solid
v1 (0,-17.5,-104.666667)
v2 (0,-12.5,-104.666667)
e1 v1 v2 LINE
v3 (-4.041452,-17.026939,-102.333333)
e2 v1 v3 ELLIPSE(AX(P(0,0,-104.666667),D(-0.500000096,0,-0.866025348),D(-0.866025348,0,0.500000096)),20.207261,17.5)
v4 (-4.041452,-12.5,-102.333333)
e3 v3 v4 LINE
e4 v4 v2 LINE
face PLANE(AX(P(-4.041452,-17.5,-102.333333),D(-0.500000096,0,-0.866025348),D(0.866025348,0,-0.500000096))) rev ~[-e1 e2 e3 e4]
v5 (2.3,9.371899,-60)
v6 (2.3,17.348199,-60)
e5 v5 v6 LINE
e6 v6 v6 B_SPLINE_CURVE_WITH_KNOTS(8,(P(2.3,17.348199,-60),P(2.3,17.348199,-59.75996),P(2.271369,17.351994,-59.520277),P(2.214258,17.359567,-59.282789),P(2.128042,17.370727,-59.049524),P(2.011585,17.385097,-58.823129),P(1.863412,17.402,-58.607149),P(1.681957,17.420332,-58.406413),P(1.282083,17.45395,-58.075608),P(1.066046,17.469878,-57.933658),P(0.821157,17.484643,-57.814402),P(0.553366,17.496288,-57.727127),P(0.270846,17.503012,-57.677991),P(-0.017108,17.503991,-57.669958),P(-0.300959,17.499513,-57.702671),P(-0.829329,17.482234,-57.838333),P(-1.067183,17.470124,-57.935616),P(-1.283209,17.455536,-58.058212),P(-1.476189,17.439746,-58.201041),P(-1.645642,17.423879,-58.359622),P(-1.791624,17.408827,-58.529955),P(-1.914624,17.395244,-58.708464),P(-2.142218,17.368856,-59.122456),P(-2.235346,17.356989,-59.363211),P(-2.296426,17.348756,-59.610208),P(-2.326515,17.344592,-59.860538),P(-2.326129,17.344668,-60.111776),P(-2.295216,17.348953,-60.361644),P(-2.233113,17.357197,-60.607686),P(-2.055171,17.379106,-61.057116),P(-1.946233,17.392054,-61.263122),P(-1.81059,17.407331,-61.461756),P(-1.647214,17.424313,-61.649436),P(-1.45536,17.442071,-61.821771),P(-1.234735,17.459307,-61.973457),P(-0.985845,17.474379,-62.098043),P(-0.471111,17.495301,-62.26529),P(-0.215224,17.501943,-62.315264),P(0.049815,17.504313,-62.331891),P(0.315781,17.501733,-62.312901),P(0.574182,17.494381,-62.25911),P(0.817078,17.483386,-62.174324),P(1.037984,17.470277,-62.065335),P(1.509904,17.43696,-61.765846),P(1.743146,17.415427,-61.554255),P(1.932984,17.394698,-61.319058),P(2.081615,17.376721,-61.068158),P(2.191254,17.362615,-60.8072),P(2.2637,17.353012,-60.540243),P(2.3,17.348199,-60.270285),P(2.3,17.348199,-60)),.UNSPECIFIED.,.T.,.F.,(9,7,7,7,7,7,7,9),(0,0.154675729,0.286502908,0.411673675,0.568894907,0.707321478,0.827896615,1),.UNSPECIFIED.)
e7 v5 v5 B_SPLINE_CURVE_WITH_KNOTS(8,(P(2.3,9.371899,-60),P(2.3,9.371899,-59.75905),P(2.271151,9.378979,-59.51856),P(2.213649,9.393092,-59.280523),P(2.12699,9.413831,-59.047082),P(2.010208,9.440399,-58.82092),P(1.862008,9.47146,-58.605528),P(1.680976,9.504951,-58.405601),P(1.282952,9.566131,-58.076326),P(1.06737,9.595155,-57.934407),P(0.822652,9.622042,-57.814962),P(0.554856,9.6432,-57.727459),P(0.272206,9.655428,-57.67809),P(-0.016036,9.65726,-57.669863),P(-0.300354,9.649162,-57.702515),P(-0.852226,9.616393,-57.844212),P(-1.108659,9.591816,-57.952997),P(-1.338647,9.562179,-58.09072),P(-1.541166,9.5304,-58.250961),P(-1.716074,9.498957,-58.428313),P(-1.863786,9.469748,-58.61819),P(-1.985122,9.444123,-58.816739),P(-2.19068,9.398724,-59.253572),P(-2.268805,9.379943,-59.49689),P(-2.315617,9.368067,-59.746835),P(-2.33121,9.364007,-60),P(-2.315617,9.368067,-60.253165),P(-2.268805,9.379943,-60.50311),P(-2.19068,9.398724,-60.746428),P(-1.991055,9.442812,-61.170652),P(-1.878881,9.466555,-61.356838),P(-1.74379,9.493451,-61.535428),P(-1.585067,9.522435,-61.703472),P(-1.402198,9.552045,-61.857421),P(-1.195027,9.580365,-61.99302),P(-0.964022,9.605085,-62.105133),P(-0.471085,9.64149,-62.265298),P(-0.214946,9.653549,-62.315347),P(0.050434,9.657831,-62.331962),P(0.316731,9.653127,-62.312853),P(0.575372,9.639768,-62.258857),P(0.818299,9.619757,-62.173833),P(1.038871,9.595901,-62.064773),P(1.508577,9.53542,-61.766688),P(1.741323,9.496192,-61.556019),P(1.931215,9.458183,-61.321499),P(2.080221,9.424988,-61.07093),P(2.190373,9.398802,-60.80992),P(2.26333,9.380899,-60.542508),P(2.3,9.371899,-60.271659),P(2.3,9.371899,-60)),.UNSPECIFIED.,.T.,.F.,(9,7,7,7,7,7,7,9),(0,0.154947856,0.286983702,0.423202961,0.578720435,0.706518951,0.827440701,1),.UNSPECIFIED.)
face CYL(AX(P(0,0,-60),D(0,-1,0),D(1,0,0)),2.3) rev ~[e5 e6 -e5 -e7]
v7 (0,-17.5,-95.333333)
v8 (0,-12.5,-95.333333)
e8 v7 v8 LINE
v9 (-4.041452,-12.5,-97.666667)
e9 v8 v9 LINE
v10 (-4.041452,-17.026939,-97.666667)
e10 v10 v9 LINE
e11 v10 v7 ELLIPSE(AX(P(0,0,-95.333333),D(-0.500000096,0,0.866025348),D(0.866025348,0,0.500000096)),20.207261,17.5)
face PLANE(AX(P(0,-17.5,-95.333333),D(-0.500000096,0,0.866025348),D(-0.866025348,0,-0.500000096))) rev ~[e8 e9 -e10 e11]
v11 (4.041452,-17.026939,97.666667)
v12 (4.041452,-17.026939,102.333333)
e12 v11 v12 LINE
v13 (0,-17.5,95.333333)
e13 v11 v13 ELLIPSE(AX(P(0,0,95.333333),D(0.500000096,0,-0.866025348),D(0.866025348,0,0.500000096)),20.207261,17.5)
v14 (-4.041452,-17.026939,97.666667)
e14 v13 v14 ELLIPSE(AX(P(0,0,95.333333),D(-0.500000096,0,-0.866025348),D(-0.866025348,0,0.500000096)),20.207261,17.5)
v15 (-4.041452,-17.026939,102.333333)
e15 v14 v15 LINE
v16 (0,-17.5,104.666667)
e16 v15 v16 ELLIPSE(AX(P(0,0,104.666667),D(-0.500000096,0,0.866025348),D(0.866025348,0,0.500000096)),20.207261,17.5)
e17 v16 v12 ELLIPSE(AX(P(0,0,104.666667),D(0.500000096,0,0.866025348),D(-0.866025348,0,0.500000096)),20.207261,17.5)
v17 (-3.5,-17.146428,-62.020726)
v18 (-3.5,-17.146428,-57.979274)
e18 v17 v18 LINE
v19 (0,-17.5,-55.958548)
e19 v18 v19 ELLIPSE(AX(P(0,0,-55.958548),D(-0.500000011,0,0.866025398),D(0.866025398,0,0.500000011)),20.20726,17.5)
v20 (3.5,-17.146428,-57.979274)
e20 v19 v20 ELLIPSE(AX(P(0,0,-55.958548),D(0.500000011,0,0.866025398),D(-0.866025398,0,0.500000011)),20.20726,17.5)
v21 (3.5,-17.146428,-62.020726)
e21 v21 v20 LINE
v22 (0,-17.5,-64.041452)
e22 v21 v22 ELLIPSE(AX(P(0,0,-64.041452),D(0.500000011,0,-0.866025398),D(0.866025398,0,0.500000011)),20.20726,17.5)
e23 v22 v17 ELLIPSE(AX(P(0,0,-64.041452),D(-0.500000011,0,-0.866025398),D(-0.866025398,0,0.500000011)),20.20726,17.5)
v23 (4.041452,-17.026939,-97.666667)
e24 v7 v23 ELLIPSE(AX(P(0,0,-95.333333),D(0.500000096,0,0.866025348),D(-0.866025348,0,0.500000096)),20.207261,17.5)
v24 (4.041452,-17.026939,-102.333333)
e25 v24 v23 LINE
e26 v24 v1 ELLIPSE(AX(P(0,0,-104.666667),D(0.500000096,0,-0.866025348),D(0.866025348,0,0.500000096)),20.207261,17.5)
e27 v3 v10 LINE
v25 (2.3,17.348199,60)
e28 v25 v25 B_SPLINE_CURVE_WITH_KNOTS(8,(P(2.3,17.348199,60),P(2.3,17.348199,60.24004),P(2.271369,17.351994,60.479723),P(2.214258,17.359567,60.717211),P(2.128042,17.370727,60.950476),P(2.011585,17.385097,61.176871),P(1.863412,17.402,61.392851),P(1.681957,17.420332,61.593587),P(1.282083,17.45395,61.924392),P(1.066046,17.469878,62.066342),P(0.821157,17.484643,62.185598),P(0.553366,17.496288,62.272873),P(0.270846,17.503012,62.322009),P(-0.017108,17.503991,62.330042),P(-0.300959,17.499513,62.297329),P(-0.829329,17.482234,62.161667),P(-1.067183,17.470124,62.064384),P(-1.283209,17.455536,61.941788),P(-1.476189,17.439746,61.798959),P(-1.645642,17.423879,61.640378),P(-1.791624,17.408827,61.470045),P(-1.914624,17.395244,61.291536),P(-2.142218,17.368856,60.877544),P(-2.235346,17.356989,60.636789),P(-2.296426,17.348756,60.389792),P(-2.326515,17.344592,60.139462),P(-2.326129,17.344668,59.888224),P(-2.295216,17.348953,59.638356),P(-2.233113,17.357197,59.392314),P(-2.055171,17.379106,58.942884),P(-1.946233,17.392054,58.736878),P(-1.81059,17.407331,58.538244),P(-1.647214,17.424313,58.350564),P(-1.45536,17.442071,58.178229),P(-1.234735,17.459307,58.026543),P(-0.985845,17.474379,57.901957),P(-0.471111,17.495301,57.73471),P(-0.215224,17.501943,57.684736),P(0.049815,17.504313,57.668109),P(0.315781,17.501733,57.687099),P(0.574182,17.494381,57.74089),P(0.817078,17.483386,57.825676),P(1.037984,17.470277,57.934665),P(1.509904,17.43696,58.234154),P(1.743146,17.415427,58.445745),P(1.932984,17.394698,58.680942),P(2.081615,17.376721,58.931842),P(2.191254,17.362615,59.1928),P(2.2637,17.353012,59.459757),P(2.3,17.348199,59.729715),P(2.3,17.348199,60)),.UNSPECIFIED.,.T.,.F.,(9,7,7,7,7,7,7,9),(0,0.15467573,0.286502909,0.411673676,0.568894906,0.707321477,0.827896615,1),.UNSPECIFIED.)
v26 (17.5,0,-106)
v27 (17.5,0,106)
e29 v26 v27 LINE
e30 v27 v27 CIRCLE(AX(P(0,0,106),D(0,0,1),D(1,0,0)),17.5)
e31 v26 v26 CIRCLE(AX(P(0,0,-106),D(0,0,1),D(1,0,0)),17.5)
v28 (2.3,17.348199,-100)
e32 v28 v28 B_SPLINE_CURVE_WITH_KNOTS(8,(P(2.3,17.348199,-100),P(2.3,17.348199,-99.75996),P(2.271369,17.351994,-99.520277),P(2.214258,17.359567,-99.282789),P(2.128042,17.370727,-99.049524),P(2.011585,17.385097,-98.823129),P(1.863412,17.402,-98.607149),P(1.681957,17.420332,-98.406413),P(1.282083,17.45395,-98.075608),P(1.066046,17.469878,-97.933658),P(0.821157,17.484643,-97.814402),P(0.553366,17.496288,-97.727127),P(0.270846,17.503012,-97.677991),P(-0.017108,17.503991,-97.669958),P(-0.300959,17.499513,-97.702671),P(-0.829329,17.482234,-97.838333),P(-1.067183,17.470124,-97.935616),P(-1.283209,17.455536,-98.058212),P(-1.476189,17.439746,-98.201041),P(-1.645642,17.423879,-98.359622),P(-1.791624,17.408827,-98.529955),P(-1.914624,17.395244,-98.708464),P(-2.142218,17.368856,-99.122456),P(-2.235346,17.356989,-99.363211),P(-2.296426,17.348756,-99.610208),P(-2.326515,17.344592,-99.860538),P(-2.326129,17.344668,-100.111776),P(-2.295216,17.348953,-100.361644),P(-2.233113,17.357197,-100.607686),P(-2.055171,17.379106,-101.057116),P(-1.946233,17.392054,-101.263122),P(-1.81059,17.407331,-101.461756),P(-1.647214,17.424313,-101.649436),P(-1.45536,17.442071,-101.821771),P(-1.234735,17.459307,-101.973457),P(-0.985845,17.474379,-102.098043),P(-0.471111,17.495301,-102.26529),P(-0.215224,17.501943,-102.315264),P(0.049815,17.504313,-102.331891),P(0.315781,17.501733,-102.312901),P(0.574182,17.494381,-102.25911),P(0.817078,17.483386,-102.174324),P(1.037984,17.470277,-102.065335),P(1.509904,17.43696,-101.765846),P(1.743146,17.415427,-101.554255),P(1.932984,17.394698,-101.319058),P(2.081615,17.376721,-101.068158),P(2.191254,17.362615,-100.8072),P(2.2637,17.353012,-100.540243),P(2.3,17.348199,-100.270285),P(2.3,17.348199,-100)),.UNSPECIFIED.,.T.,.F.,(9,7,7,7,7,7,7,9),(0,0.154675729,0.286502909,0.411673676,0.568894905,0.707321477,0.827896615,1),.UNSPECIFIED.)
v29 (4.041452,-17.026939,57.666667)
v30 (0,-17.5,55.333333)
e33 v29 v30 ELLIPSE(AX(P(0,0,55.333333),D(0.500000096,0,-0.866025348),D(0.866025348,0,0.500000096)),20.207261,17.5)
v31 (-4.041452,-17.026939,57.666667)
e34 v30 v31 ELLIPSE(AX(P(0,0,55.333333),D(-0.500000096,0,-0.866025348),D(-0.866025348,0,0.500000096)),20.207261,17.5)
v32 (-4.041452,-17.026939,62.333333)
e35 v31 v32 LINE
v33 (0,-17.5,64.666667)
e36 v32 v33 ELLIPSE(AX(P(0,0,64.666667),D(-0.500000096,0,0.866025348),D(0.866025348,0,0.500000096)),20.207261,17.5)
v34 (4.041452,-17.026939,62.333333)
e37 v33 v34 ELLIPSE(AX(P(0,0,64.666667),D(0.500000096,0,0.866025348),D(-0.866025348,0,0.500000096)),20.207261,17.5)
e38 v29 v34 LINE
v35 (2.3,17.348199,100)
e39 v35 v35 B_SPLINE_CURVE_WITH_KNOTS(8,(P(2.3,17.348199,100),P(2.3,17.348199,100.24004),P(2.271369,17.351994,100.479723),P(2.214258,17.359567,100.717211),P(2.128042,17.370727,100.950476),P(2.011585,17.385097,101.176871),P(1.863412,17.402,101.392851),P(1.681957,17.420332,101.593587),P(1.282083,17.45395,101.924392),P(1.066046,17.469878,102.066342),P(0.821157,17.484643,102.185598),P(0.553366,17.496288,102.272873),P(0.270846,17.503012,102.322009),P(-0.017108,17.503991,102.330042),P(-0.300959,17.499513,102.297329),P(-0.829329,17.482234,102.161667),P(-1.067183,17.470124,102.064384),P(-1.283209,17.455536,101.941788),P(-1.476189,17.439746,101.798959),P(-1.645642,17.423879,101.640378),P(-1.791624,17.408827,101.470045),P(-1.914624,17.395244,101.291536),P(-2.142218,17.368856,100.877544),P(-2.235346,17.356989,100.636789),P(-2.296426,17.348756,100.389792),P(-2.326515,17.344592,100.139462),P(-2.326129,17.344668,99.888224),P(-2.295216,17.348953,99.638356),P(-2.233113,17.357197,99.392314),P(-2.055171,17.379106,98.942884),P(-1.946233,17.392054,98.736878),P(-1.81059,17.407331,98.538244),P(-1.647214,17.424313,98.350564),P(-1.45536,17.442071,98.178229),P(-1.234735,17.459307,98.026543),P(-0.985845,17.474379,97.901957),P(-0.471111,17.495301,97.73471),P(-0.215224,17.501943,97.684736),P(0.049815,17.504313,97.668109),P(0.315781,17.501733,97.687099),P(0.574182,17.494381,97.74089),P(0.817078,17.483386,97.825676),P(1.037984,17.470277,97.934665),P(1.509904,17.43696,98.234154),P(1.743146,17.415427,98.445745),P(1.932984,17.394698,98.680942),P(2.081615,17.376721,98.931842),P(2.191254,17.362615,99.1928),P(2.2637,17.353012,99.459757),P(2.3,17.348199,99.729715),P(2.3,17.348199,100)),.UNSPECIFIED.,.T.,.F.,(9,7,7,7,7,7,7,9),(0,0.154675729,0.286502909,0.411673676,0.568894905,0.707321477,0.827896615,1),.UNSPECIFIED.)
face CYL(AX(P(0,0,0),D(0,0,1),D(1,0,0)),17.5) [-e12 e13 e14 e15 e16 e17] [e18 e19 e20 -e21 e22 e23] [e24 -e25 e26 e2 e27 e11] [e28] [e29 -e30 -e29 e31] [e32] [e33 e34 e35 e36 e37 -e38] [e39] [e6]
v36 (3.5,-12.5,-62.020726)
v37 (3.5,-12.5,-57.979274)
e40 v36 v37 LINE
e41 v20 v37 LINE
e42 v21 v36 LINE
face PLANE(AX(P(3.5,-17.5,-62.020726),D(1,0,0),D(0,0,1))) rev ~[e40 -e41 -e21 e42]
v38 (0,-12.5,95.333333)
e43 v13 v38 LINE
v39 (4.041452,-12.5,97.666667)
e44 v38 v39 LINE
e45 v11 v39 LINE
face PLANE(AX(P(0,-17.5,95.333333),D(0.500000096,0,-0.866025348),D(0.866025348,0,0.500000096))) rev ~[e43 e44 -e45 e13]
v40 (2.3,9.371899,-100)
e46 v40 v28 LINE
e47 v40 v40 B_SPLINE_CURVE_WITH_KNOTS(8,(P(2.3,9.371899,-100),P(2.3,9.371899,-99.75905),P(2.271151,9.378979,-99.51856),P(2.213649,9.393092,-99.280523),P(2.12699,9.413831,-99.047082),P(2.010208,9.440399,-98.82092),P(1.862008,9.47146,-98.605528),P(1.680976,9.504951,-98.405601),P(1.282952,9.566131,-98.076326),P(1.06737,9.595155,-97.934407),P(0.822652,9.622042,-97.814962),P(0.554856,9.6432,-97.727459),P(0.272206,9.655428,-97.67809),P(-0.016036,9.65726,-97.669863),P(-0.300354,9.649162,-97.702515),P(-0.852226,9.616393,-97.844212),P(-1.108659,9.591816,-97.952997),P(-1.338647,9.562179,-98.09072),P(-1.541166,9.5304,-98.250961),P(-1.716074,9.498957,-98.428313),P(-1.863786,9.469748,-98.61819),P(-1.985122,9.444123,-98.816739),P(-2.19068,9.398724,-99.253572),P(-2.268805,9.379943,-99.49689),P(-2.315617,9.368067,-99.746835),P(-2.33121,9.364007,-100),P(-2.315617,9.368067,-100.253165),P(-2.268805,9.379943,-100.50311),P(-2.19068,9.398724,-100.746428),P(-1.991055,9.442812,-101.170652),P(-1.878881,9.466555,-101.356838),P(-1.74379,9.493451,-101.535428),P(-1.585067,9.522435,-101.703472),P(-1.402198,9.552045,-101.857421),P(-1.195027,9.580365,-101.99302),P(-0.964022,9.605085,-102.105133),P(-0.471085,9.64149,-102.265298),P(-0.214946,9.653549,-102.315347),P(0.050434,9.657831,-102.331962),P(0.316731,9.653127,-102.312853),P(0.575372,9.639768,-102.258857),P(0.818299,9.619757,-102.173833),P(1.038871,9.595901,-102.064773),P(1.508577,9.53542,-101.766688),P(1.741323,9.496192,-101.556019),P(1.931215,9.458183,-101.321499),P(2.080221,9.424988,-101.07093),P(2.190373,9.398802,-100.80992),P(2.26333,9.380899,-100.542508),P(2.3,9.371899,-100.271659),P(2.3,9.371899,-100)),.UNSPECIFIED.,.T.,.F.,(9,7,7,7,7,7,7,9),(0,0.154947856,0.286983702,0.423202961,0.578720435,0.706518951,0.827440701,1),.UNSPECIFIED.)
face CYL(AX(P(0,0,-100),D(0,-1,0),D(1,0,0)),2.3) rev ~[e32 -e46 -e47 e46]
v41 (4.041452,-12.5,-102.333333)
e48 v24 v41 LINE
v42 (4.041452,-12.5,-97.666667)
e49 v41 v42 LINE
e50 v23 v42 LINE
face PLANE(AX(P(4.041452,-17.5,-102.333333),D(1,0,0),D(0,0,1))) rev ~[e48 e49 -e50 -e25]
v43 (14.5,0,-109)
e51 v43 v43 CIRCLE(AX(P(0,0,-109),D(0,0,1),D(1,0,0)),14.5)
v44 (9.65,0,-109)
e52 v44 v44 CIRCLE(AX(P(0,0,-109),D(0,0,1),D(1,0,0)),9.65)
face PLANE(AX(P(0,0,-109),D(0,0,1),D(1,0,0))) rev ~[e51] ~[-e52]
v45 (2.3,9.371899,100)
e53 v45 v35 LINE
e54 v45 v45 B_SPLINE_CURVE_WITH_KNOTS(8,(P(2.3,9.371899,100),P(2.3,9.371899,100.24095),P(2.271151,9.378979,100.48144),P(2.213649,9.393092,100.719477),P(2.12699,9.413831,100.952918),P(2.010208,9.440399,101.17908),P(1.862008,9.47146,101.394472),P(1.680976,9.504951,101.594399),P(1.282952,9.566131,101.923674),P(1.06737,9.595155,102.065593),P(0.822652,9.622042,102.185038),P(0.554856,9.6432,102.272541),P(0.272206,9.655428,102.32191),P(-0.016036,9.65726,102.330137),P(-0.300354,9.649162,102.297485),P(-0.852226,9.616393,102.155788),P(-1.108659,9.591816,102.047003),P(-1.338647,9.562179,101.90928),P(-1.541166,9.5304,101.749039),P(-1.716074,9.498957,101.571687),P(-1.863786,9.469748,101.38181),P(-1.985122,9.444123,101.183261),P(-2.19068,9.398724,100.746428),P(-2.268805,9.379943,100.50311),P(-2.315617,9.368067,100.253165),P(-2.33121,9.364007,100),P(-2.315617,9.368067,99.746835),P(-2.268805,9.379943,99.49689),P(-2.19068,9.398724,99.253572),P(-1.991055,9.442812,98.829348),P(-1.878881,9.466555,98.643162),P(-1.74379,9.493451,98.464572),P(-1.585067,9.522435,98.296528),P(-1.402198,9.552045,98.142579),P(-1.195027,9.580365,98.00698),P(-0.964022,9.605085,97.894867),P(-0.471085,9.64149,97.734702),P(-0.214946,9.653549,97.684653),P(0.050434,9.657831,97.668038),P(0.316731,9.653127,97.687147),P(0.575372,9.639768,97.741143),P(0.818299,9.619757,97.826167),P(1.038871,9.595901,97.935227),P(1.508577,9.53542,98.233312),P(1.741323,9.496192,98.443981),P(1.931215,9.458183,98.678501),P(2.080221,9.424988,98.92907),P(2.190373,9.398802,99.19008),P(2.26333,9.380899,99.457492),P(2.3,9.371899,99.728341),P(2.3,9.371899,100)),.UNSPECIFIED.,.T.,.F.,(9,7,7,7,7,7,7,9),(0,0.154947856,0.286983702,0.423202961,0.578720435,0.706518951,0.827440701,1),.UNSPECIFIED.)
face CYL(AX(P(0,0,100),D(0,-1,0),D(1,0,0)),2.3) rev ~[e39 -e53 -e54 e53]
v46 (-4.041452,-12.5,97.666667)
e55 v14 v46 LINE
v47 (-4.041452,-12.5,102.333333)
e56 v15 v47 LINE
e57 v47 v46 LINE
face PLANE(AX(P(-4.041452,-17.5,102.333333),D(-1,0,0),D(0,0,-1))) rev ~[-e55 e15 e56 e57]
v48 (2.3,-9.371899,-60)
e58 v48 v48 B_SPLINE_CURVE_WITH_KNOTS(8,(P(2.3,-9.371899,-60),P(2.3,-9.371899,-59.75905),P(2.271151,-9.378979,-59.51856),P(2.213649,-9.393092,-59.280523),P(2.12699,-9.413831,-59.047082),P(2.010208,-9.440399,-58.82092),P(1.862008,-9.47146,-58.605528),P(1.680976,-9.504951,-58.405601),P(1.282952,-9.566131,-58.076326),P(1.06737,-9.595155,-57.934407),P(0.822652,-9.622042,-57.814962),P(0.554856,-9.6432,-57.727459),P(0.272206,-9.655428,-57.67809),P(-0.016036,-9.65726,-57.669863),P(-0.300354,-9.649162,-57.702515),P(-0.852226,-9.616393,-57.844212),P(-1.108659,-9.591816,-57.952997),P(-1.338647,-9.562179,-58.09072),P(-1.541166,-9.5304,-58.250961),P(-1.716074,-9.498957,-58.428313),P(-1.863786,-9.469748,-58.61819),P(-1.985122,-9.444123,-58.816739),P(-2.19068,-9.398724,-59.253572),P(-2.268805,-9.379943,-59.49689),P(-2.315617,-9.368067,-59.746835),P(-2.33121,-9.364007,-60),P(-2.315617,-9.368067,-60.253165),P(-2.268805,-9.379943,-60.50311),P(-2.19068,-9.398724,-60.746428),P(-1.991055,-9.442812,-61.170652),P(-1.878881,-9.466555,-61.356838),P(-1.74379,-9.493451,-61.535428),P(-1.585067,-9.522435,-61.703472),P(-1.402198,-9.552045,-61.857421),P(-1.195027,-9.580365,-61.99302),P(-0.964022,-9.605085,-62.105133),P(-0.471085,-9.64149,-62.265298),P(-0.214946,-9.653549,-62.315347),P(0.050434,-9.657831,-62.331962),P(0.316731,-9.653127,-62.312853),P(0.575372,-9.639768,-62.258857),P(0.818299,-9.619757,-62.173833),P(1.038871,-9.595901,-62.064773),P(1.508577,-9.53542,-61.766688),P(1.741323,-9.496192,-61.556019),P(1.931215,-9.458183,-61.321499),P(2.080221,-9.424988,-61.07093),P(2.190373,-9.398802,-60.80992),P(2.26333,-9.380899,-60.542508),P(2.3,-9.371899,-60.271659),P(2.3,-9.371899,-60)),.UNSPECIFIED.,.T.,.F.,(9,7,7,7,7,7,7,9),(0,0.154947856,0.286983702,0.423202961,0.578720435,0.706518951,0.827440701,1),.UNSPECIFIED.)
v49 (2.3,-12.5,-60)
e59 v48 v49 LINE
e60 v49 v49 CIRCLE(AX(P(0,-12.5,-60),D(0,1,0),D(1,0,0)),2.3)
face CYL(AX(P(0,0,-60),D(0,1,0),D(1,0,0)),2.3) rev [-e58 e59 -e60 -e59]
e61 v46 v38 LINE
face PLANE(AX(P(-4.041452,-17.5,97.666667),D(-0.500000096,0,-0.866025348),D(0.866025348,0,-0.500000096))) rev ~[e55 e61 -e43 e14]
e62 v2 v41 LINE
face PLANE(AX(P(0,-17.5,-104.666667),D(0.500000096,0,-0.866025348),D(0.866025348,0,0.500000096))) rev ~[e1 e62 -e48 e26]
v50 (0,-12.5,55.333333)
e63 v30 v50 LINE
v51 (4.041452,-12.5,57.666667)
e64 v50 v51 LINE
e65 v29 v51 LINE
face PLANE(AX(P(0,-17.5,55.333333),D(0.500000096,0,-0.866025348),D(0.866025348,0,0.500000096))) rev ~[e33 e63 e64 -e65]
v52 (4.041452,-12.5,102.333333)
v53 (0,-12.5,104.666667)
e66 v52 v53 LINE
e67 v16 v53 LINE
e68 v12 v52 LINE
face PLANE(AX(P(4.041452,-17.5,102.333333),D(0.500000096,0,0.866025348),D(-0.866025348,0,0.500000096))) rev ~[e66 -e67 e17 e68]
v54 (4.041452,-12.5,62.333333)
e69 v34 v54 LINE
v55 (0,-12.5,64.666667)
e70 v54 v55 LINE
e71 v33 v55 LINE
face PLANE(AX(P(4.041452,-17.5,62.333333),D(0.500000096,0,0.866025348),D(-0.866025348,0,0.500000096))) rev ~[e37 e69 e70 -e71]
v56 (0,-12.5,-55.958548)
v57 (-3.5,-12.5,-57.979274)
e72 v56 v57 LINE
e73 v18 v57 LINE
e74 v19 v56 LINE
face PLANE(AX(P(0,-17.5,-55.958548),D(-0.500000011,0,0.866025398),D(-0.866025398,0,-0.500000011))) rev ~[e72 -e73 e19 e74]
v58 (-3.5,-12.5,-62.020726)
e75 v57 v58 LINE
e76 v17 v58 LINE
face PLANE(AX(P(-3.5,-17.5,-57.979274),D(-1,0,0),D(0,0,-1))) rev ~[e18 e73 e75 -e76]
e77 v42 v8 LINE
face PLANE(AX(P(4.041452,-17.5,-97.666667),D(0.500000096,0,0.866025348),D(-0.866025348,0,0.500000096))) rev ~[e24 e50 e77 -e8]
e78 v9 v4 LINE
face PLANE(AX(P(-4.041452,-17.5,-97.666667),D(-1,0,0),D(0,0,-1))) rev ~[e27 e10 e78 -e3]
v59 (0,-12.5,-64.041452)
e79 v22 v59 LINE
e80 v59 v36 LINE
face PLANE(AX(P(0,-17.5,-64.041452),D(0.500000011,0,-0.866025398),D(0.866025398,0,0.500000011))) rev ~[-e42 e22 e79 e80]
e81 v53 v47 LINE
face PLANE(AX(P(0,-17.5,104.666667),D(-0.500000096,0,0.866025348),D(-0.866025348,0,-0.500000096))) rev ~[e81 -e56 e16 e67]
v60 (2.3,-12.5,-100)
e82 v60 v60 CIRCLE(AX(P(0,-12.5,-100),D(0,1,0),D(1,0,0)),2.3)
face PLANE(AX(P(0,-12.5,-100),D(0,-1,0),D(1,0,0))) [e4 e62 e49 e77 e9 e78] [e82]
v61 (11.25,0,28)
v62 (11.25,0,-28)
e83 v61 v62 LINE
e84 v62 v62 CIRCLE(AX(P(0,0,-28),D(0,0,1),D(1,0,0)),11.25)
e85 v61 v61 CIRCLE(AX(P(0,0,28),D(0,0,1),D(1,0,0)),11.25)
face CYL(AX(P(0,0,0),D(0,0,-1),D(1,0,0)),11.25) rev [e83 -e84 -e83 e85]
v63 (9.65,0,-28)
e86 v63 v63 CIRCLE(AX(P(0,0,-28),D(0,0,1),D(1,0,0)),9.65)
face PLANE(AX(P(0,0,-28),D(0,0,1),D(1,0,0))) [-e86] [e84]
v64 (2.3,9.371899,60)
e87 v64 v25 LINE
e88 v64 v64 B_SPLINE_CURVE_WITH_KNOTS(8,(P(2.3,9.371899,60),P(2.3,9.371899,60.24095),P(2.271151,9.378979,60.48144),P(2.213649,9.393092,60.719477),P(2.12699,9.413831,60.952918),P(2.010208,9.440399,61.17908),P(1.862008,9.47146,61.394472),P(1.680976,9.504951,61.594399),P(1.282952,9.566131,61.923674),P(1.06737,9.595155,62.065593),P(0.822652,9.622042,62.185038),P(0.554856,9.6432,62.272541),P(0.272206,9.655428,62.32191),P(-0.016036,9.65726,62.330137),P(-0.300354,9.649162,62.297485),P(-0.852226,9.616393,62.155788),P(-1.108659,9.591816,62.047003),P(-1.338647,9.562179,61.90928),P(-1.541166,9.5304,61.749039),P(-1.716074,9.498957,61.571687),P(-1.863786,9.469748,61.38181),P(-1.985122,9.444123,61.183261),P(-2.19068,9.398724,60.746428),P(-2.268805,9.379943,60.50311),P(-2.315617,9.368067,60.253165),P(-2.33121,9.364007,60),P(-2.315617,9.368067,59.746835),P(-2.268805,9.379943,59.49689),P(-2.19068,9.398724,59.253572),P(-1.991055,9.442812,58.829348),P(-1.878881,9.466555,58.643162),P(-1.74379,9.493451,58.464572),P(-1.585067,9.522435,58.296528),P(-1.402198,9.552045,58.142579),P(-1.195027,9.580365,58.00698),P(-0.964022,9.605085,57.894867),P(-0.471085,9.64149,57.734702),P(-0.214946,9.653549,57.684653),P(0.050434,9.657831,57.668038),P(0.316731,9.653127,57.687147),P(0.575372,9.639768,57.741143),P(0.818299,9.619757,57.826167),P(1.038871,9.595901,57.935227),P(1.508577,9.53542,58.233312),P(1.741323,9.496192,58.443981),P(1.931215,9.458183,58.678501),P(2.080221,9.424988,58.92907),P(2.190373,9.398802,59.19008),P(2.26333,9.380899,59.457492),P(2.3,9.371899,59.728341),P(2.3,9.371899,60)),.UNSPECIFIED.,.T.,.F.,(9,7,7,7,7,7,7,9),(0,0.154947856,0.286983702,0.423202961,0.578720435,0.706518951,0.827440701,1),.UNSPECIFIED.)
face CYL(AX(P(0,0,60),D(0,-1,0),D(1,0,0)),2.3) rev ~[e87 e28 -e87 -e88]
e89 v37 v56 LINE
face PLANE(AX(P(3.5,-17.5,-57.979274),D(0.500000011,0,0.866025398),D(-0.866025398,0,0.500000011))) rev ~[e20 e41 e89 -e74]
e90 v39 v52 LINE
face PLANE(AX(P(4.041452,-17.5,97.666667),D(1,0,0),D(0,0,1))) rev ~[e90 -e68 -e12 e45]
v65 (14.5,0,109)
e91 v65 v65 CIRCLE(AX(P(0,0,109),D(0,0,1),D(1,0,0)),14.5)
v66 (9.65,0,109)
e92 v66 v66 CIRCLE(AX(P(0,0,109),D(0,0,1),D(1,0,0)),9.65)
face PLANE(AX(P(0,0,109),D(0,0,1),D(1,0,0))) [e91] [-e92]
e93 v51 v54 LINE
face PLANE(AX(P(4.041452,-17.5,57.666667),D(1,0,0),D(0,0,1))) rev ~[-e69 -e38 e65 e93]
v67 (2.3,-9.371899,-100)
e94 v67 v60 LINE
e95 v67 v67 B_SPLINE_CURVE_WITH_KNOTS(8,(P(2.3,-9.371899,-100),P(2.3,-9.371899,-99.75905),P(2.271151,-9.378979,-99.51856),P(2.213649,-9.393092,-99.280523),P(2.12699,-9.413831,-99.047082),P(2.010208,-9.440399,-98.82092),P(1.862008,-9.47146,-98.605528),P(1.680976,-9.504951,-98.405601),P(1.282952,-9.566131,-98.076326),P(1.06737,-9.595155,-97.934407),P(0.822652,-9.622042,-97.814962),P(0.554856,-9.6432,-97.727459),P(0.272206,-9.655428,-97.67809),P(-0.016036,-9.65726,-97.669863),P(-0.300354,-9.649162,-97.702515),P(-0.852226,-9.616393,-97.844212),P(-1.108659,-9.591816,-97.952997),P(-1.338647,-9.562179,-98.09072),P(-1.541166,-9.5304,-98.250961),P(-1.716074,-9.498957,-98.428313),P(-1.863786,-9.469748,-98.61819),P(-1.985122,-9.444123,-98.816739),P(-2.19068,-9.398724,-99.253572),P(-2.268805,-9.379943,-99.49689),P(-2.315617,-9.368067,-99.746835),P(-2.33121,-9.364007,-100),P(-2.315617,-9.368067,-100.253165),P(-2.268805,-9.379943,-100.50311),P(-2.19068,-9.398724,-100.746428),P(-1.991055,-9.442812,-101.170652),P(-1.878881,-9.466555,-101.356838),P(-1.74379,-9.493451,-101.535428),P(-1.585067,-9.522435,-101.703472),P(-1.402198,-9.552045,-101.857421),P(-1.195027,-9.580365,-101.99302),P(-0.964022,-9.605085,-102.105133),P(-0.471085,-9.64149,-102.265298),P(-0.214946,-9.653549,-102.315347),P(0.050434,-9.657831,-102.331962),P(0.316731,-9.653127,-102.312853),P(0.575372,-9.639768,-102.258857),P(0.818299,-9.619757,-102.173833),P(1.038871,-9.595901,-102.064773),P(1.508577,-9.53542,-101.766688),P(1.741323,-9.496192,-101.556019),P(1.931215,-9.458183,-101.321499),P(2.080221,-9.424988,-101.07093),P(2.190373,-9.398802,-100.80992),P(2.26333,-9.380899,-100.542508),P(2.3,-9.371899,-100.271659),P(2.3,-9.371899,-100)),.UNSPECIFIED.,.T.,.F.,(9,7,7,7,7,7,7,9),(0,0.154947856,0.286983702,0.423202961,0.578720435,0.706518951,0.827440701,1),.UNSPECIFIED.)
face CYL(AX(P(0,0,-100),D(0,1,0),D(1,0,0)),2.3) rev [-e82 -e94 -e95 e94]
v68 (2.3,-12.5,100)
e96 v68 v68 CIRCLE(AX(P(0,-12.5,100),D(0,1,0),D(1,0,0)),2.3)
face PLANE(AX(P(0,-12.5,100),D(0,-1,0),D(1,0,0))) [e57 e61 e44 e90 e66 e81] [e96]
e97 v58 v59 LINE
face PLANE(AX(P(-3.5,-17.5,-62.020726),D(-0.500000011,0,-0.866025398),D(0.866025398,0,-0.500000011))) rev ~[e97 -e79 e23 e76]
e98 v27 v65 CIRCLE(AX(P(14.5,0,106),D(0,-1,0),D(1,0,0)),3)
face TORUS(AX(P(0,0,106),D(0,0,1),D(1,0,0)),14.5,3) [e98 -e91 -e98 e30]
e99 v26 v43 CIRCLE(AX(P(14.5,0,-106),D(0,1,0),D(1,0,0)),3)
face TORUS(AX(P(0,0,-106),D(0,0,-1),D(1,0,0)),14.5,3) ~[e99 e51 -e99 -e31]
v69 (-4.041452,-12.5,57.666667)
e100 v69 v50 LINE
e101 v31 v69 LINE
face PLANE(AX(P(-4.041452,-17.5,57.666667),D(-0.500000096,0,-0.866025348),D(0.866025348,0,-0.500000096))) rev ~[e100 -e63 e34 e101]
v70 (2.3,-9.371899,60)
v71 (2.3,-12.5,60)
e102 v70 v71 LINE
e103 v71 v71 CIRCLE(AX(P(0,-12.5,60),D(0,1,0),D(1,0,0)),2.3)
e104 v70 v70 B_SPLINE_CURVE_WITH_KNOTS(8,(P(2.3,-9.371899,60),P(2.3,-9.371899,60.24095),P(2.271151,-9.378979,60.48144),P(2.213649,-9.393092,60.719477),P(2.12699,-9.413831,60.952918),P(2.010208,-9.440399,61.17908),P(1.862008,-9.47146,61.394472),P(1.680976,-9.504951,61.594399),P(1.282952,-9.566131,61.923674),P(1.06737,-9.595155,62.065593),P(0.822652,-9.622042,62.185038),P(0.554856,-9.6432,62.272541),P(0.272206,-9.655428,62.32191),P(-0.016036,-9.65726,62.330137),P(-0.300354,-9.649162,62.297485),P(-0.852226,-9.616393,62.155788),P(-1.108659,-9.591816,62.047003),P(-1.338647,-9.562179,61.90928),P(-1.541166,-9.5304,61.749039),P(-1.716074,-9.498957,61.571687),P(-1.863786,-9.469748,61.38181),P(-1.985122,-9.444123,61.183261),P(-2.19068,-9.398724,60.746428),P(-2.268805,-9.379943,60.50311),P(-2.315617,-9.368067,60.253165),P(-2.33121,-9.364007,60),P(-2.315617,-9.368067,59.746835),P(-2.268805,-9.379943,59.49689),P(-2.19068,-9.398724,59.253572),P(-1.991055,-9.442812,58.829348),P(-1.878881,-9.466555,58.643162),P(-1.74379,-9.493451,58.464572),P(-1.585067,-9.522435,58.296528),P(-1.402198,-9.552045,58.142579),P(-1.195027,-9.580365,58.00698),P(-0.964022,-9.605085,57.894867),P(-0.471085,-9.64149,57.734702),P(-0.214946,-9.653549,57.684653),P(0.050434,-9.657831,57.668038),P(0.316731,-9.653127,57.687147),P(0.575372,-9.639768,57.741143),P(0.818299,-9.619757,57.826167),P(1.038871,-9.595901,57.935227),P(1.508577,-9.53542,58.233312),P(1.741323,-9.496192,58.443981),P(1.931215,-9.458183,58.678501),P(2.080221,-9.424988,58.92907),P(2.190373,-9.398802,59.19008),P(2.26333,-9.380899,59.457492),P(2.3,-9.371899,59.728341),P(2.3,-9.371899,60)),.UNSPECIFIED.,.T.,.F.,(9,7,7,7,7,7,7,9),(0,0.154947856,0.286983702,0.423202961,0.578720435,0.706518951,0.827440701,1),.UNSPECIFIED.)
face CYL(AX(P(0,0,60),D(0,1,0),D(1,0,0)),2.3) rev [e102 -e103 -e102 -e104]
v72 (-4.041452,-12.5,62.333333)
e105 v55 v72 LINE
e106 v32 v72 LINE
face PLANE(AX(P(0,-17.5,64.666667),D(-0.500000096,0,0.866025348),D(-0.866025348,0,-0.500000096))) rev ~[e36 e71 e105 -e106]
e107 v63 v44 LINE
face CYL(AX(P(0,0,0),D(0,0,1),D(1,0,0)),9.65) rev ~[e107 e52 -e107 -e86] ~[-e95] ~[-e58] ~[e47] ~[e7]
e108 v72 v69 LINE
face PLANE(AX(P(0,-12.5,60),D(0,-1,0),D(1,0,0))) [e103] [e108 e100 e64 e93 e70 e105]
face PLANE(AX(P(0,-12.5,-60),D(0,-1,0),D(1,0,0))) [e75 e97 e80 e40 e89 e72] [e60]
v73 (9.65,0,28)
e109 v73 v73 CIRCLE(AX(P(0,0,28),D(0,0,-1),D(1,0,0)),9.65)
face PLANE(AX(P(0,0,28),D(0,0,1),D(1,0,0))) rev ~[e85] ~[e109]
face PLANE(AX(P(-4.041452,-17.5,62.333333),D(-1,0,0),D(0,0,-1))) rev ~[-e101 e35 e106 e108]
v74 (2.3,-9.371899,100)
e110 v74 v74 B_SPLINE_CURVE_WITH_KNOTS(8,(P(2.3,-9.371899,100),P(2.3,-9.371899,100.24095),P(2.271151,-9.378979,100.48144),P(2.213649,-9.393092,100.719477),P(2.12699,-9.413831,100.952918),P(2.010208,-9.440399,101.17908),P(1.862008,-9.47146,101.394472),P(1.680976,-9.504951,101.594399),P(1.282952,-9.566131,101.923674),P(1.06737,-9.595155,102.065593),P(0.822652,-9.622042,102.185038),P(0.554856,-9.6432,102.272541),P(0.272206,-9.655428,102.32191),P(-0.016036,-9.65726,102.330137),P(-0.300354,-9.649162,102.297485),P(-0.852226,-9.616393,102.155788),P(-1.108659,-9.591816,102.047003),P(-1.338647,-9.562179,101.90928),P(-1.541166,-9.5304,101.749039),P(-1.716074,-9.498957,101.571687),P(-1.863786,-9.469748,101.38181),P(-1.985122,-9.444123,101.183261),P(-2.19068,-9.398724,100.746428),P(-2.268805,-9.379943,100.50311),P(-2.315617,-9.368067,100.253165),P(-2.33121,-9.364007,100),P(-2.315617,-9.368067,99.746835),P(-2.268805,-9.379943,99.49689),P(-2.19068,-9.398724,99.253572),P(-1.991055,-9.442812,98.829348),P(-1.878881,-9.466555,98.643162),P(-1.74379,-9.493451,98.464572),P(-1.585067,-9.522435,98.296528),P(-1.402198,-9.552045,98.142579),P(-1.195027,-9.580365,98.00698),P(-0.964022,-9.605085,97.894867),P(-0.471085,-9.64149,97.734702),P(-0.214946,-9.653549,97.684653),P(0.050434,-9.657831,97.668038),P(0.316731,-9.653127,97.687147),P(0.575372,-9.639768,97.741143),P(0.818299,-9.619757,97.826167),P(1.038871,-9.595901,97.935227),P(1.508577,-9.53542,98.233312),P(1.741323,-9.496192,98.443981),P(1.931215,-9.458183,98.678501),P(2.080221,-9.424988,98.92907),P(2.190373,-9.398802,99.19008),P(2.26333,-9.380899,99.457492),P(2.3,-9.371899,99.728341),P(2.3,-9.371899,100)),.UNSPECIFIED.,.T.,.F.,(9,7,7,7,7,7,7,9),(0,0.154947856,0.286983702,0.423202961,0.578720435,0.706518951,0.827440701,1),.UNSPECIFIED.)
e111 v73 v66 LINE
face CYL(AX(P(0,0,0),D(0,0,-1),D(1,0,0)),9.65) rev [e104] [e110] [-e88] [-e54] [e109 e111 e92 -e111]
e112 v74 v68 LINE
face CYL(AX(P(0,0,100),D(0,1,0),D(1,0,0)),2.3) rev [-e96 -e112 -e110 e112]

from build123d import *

# Parameters (mm, degrees)
SKETCH002_R          = 17.5
SKETCH002_R_2        = 9.65
PAD001_DEPTH         = 109
PAD001_DEPTH_BACK    = 109
SKETCH003_R          = 11.25
SKETCH003_R_2        = 6
POCKET001_DEPTH      = 28
POCKET001_DEPTH_BACK = 28
POCKET002_DEPTH      = 5
SKETCH005_R          = 2.3
POCKET003_DEPTH      = 50
POCKET003_DEPTH_BACK = 50
FILLET001_R          = 3


with BuildPart() as part:
    # Sketch002 → Pad001 (new body, two sides)
    with BuildSketch(Plane.XY) as pad001_sk:
        Circle(SKETCH002_R)
        Circle(SKETCH002_R_2, mode=Mode.SUBTRACT)
    extrude(amount=PAD001_DEPTH)
    extrude(pad001_sk.sketch, amount=-PAD001_DEPTH_BACK)

    # Sketch003 → Pocket001 (cut, two sides)
    with BuildSketch(Plane.XY) as pocket001_sk:
        Circle(SKETCH003_R)
        Circle(SKETCH003_R_2, mode=Mode.SUBTRACT)
    extrude(amount=-POCKET001_DEPTH, mode=Mode.SUBTRACT)
    extrude(pocket001_sk.sketch, amount=POCKET001_DEPTH_BACK, mode=Mode.SUBTRACT)

    # Sketch004 (on DatumPlane) → Pocket002 (cut)
    with BuildSketch(Plane.XZ.offset(17.5)):
        Polygon((0, 95.333333), (4.041452, 97.666667), (4.041452, 102.333333), (0, 104.666667), (-4.041452, 102.333333), (-4.041452, 97.666667), align=None)
        Polygon((4.041452, 57.666667), (4.041452, 62.333333), (0, 64.666667), (-4.041452, 62.333333), (-4.041452, 57.666667), (0, 55.333333), align=None)
        Polygon((0, -64.041452), (3.5, -62.020726), (3.5, -57.979274), (0, -55.958548), (-3.5, -57.979274), (-3.5, -62.020726), align=None)
        Polygon((4.041452, -102.333333), (4.041452, -97.666667), (0, -95.333333), (-4.041452, -97.666667), (-4.041452, -102.333333), (0, -104.666667), align=None)
    extrude(amount=-POCKET002_DEPTH, mode=Mode.SUBTRACT)

    # Sketch005 → Pocket003 (cut, two sides)
    with BuildSketch(Plane.XZ) as pocket003_sk:
        with Locations((0, 60)):
            Circle(SKETCH005_R)
        with Locations((0, 100)):
            Circle(SKETCH005_R)
        with Locations((0, -60)):
            Circle(SKETCH005_R)
        with Locations((0, -100)):
            Circle(SKETCH005_R)
    extrude(amount=-POCKET003_DEPTH, mode=Mode.SUBTRACT)
    extrude(pocket003_sk.sketch, amount=POCKET003_DEPTH_BACK, mode=Mode.SUBTRACT)

    # Fillet001
    fillet001_edges = [part.edges().sort_by_distance(p)[0] for p in [
        (-17.5, 0, 109),
        (-17.5, 0, -109),
    ]]
    fillet(fillet001_edges, radius=FILLET001_R)


solid = part.part
